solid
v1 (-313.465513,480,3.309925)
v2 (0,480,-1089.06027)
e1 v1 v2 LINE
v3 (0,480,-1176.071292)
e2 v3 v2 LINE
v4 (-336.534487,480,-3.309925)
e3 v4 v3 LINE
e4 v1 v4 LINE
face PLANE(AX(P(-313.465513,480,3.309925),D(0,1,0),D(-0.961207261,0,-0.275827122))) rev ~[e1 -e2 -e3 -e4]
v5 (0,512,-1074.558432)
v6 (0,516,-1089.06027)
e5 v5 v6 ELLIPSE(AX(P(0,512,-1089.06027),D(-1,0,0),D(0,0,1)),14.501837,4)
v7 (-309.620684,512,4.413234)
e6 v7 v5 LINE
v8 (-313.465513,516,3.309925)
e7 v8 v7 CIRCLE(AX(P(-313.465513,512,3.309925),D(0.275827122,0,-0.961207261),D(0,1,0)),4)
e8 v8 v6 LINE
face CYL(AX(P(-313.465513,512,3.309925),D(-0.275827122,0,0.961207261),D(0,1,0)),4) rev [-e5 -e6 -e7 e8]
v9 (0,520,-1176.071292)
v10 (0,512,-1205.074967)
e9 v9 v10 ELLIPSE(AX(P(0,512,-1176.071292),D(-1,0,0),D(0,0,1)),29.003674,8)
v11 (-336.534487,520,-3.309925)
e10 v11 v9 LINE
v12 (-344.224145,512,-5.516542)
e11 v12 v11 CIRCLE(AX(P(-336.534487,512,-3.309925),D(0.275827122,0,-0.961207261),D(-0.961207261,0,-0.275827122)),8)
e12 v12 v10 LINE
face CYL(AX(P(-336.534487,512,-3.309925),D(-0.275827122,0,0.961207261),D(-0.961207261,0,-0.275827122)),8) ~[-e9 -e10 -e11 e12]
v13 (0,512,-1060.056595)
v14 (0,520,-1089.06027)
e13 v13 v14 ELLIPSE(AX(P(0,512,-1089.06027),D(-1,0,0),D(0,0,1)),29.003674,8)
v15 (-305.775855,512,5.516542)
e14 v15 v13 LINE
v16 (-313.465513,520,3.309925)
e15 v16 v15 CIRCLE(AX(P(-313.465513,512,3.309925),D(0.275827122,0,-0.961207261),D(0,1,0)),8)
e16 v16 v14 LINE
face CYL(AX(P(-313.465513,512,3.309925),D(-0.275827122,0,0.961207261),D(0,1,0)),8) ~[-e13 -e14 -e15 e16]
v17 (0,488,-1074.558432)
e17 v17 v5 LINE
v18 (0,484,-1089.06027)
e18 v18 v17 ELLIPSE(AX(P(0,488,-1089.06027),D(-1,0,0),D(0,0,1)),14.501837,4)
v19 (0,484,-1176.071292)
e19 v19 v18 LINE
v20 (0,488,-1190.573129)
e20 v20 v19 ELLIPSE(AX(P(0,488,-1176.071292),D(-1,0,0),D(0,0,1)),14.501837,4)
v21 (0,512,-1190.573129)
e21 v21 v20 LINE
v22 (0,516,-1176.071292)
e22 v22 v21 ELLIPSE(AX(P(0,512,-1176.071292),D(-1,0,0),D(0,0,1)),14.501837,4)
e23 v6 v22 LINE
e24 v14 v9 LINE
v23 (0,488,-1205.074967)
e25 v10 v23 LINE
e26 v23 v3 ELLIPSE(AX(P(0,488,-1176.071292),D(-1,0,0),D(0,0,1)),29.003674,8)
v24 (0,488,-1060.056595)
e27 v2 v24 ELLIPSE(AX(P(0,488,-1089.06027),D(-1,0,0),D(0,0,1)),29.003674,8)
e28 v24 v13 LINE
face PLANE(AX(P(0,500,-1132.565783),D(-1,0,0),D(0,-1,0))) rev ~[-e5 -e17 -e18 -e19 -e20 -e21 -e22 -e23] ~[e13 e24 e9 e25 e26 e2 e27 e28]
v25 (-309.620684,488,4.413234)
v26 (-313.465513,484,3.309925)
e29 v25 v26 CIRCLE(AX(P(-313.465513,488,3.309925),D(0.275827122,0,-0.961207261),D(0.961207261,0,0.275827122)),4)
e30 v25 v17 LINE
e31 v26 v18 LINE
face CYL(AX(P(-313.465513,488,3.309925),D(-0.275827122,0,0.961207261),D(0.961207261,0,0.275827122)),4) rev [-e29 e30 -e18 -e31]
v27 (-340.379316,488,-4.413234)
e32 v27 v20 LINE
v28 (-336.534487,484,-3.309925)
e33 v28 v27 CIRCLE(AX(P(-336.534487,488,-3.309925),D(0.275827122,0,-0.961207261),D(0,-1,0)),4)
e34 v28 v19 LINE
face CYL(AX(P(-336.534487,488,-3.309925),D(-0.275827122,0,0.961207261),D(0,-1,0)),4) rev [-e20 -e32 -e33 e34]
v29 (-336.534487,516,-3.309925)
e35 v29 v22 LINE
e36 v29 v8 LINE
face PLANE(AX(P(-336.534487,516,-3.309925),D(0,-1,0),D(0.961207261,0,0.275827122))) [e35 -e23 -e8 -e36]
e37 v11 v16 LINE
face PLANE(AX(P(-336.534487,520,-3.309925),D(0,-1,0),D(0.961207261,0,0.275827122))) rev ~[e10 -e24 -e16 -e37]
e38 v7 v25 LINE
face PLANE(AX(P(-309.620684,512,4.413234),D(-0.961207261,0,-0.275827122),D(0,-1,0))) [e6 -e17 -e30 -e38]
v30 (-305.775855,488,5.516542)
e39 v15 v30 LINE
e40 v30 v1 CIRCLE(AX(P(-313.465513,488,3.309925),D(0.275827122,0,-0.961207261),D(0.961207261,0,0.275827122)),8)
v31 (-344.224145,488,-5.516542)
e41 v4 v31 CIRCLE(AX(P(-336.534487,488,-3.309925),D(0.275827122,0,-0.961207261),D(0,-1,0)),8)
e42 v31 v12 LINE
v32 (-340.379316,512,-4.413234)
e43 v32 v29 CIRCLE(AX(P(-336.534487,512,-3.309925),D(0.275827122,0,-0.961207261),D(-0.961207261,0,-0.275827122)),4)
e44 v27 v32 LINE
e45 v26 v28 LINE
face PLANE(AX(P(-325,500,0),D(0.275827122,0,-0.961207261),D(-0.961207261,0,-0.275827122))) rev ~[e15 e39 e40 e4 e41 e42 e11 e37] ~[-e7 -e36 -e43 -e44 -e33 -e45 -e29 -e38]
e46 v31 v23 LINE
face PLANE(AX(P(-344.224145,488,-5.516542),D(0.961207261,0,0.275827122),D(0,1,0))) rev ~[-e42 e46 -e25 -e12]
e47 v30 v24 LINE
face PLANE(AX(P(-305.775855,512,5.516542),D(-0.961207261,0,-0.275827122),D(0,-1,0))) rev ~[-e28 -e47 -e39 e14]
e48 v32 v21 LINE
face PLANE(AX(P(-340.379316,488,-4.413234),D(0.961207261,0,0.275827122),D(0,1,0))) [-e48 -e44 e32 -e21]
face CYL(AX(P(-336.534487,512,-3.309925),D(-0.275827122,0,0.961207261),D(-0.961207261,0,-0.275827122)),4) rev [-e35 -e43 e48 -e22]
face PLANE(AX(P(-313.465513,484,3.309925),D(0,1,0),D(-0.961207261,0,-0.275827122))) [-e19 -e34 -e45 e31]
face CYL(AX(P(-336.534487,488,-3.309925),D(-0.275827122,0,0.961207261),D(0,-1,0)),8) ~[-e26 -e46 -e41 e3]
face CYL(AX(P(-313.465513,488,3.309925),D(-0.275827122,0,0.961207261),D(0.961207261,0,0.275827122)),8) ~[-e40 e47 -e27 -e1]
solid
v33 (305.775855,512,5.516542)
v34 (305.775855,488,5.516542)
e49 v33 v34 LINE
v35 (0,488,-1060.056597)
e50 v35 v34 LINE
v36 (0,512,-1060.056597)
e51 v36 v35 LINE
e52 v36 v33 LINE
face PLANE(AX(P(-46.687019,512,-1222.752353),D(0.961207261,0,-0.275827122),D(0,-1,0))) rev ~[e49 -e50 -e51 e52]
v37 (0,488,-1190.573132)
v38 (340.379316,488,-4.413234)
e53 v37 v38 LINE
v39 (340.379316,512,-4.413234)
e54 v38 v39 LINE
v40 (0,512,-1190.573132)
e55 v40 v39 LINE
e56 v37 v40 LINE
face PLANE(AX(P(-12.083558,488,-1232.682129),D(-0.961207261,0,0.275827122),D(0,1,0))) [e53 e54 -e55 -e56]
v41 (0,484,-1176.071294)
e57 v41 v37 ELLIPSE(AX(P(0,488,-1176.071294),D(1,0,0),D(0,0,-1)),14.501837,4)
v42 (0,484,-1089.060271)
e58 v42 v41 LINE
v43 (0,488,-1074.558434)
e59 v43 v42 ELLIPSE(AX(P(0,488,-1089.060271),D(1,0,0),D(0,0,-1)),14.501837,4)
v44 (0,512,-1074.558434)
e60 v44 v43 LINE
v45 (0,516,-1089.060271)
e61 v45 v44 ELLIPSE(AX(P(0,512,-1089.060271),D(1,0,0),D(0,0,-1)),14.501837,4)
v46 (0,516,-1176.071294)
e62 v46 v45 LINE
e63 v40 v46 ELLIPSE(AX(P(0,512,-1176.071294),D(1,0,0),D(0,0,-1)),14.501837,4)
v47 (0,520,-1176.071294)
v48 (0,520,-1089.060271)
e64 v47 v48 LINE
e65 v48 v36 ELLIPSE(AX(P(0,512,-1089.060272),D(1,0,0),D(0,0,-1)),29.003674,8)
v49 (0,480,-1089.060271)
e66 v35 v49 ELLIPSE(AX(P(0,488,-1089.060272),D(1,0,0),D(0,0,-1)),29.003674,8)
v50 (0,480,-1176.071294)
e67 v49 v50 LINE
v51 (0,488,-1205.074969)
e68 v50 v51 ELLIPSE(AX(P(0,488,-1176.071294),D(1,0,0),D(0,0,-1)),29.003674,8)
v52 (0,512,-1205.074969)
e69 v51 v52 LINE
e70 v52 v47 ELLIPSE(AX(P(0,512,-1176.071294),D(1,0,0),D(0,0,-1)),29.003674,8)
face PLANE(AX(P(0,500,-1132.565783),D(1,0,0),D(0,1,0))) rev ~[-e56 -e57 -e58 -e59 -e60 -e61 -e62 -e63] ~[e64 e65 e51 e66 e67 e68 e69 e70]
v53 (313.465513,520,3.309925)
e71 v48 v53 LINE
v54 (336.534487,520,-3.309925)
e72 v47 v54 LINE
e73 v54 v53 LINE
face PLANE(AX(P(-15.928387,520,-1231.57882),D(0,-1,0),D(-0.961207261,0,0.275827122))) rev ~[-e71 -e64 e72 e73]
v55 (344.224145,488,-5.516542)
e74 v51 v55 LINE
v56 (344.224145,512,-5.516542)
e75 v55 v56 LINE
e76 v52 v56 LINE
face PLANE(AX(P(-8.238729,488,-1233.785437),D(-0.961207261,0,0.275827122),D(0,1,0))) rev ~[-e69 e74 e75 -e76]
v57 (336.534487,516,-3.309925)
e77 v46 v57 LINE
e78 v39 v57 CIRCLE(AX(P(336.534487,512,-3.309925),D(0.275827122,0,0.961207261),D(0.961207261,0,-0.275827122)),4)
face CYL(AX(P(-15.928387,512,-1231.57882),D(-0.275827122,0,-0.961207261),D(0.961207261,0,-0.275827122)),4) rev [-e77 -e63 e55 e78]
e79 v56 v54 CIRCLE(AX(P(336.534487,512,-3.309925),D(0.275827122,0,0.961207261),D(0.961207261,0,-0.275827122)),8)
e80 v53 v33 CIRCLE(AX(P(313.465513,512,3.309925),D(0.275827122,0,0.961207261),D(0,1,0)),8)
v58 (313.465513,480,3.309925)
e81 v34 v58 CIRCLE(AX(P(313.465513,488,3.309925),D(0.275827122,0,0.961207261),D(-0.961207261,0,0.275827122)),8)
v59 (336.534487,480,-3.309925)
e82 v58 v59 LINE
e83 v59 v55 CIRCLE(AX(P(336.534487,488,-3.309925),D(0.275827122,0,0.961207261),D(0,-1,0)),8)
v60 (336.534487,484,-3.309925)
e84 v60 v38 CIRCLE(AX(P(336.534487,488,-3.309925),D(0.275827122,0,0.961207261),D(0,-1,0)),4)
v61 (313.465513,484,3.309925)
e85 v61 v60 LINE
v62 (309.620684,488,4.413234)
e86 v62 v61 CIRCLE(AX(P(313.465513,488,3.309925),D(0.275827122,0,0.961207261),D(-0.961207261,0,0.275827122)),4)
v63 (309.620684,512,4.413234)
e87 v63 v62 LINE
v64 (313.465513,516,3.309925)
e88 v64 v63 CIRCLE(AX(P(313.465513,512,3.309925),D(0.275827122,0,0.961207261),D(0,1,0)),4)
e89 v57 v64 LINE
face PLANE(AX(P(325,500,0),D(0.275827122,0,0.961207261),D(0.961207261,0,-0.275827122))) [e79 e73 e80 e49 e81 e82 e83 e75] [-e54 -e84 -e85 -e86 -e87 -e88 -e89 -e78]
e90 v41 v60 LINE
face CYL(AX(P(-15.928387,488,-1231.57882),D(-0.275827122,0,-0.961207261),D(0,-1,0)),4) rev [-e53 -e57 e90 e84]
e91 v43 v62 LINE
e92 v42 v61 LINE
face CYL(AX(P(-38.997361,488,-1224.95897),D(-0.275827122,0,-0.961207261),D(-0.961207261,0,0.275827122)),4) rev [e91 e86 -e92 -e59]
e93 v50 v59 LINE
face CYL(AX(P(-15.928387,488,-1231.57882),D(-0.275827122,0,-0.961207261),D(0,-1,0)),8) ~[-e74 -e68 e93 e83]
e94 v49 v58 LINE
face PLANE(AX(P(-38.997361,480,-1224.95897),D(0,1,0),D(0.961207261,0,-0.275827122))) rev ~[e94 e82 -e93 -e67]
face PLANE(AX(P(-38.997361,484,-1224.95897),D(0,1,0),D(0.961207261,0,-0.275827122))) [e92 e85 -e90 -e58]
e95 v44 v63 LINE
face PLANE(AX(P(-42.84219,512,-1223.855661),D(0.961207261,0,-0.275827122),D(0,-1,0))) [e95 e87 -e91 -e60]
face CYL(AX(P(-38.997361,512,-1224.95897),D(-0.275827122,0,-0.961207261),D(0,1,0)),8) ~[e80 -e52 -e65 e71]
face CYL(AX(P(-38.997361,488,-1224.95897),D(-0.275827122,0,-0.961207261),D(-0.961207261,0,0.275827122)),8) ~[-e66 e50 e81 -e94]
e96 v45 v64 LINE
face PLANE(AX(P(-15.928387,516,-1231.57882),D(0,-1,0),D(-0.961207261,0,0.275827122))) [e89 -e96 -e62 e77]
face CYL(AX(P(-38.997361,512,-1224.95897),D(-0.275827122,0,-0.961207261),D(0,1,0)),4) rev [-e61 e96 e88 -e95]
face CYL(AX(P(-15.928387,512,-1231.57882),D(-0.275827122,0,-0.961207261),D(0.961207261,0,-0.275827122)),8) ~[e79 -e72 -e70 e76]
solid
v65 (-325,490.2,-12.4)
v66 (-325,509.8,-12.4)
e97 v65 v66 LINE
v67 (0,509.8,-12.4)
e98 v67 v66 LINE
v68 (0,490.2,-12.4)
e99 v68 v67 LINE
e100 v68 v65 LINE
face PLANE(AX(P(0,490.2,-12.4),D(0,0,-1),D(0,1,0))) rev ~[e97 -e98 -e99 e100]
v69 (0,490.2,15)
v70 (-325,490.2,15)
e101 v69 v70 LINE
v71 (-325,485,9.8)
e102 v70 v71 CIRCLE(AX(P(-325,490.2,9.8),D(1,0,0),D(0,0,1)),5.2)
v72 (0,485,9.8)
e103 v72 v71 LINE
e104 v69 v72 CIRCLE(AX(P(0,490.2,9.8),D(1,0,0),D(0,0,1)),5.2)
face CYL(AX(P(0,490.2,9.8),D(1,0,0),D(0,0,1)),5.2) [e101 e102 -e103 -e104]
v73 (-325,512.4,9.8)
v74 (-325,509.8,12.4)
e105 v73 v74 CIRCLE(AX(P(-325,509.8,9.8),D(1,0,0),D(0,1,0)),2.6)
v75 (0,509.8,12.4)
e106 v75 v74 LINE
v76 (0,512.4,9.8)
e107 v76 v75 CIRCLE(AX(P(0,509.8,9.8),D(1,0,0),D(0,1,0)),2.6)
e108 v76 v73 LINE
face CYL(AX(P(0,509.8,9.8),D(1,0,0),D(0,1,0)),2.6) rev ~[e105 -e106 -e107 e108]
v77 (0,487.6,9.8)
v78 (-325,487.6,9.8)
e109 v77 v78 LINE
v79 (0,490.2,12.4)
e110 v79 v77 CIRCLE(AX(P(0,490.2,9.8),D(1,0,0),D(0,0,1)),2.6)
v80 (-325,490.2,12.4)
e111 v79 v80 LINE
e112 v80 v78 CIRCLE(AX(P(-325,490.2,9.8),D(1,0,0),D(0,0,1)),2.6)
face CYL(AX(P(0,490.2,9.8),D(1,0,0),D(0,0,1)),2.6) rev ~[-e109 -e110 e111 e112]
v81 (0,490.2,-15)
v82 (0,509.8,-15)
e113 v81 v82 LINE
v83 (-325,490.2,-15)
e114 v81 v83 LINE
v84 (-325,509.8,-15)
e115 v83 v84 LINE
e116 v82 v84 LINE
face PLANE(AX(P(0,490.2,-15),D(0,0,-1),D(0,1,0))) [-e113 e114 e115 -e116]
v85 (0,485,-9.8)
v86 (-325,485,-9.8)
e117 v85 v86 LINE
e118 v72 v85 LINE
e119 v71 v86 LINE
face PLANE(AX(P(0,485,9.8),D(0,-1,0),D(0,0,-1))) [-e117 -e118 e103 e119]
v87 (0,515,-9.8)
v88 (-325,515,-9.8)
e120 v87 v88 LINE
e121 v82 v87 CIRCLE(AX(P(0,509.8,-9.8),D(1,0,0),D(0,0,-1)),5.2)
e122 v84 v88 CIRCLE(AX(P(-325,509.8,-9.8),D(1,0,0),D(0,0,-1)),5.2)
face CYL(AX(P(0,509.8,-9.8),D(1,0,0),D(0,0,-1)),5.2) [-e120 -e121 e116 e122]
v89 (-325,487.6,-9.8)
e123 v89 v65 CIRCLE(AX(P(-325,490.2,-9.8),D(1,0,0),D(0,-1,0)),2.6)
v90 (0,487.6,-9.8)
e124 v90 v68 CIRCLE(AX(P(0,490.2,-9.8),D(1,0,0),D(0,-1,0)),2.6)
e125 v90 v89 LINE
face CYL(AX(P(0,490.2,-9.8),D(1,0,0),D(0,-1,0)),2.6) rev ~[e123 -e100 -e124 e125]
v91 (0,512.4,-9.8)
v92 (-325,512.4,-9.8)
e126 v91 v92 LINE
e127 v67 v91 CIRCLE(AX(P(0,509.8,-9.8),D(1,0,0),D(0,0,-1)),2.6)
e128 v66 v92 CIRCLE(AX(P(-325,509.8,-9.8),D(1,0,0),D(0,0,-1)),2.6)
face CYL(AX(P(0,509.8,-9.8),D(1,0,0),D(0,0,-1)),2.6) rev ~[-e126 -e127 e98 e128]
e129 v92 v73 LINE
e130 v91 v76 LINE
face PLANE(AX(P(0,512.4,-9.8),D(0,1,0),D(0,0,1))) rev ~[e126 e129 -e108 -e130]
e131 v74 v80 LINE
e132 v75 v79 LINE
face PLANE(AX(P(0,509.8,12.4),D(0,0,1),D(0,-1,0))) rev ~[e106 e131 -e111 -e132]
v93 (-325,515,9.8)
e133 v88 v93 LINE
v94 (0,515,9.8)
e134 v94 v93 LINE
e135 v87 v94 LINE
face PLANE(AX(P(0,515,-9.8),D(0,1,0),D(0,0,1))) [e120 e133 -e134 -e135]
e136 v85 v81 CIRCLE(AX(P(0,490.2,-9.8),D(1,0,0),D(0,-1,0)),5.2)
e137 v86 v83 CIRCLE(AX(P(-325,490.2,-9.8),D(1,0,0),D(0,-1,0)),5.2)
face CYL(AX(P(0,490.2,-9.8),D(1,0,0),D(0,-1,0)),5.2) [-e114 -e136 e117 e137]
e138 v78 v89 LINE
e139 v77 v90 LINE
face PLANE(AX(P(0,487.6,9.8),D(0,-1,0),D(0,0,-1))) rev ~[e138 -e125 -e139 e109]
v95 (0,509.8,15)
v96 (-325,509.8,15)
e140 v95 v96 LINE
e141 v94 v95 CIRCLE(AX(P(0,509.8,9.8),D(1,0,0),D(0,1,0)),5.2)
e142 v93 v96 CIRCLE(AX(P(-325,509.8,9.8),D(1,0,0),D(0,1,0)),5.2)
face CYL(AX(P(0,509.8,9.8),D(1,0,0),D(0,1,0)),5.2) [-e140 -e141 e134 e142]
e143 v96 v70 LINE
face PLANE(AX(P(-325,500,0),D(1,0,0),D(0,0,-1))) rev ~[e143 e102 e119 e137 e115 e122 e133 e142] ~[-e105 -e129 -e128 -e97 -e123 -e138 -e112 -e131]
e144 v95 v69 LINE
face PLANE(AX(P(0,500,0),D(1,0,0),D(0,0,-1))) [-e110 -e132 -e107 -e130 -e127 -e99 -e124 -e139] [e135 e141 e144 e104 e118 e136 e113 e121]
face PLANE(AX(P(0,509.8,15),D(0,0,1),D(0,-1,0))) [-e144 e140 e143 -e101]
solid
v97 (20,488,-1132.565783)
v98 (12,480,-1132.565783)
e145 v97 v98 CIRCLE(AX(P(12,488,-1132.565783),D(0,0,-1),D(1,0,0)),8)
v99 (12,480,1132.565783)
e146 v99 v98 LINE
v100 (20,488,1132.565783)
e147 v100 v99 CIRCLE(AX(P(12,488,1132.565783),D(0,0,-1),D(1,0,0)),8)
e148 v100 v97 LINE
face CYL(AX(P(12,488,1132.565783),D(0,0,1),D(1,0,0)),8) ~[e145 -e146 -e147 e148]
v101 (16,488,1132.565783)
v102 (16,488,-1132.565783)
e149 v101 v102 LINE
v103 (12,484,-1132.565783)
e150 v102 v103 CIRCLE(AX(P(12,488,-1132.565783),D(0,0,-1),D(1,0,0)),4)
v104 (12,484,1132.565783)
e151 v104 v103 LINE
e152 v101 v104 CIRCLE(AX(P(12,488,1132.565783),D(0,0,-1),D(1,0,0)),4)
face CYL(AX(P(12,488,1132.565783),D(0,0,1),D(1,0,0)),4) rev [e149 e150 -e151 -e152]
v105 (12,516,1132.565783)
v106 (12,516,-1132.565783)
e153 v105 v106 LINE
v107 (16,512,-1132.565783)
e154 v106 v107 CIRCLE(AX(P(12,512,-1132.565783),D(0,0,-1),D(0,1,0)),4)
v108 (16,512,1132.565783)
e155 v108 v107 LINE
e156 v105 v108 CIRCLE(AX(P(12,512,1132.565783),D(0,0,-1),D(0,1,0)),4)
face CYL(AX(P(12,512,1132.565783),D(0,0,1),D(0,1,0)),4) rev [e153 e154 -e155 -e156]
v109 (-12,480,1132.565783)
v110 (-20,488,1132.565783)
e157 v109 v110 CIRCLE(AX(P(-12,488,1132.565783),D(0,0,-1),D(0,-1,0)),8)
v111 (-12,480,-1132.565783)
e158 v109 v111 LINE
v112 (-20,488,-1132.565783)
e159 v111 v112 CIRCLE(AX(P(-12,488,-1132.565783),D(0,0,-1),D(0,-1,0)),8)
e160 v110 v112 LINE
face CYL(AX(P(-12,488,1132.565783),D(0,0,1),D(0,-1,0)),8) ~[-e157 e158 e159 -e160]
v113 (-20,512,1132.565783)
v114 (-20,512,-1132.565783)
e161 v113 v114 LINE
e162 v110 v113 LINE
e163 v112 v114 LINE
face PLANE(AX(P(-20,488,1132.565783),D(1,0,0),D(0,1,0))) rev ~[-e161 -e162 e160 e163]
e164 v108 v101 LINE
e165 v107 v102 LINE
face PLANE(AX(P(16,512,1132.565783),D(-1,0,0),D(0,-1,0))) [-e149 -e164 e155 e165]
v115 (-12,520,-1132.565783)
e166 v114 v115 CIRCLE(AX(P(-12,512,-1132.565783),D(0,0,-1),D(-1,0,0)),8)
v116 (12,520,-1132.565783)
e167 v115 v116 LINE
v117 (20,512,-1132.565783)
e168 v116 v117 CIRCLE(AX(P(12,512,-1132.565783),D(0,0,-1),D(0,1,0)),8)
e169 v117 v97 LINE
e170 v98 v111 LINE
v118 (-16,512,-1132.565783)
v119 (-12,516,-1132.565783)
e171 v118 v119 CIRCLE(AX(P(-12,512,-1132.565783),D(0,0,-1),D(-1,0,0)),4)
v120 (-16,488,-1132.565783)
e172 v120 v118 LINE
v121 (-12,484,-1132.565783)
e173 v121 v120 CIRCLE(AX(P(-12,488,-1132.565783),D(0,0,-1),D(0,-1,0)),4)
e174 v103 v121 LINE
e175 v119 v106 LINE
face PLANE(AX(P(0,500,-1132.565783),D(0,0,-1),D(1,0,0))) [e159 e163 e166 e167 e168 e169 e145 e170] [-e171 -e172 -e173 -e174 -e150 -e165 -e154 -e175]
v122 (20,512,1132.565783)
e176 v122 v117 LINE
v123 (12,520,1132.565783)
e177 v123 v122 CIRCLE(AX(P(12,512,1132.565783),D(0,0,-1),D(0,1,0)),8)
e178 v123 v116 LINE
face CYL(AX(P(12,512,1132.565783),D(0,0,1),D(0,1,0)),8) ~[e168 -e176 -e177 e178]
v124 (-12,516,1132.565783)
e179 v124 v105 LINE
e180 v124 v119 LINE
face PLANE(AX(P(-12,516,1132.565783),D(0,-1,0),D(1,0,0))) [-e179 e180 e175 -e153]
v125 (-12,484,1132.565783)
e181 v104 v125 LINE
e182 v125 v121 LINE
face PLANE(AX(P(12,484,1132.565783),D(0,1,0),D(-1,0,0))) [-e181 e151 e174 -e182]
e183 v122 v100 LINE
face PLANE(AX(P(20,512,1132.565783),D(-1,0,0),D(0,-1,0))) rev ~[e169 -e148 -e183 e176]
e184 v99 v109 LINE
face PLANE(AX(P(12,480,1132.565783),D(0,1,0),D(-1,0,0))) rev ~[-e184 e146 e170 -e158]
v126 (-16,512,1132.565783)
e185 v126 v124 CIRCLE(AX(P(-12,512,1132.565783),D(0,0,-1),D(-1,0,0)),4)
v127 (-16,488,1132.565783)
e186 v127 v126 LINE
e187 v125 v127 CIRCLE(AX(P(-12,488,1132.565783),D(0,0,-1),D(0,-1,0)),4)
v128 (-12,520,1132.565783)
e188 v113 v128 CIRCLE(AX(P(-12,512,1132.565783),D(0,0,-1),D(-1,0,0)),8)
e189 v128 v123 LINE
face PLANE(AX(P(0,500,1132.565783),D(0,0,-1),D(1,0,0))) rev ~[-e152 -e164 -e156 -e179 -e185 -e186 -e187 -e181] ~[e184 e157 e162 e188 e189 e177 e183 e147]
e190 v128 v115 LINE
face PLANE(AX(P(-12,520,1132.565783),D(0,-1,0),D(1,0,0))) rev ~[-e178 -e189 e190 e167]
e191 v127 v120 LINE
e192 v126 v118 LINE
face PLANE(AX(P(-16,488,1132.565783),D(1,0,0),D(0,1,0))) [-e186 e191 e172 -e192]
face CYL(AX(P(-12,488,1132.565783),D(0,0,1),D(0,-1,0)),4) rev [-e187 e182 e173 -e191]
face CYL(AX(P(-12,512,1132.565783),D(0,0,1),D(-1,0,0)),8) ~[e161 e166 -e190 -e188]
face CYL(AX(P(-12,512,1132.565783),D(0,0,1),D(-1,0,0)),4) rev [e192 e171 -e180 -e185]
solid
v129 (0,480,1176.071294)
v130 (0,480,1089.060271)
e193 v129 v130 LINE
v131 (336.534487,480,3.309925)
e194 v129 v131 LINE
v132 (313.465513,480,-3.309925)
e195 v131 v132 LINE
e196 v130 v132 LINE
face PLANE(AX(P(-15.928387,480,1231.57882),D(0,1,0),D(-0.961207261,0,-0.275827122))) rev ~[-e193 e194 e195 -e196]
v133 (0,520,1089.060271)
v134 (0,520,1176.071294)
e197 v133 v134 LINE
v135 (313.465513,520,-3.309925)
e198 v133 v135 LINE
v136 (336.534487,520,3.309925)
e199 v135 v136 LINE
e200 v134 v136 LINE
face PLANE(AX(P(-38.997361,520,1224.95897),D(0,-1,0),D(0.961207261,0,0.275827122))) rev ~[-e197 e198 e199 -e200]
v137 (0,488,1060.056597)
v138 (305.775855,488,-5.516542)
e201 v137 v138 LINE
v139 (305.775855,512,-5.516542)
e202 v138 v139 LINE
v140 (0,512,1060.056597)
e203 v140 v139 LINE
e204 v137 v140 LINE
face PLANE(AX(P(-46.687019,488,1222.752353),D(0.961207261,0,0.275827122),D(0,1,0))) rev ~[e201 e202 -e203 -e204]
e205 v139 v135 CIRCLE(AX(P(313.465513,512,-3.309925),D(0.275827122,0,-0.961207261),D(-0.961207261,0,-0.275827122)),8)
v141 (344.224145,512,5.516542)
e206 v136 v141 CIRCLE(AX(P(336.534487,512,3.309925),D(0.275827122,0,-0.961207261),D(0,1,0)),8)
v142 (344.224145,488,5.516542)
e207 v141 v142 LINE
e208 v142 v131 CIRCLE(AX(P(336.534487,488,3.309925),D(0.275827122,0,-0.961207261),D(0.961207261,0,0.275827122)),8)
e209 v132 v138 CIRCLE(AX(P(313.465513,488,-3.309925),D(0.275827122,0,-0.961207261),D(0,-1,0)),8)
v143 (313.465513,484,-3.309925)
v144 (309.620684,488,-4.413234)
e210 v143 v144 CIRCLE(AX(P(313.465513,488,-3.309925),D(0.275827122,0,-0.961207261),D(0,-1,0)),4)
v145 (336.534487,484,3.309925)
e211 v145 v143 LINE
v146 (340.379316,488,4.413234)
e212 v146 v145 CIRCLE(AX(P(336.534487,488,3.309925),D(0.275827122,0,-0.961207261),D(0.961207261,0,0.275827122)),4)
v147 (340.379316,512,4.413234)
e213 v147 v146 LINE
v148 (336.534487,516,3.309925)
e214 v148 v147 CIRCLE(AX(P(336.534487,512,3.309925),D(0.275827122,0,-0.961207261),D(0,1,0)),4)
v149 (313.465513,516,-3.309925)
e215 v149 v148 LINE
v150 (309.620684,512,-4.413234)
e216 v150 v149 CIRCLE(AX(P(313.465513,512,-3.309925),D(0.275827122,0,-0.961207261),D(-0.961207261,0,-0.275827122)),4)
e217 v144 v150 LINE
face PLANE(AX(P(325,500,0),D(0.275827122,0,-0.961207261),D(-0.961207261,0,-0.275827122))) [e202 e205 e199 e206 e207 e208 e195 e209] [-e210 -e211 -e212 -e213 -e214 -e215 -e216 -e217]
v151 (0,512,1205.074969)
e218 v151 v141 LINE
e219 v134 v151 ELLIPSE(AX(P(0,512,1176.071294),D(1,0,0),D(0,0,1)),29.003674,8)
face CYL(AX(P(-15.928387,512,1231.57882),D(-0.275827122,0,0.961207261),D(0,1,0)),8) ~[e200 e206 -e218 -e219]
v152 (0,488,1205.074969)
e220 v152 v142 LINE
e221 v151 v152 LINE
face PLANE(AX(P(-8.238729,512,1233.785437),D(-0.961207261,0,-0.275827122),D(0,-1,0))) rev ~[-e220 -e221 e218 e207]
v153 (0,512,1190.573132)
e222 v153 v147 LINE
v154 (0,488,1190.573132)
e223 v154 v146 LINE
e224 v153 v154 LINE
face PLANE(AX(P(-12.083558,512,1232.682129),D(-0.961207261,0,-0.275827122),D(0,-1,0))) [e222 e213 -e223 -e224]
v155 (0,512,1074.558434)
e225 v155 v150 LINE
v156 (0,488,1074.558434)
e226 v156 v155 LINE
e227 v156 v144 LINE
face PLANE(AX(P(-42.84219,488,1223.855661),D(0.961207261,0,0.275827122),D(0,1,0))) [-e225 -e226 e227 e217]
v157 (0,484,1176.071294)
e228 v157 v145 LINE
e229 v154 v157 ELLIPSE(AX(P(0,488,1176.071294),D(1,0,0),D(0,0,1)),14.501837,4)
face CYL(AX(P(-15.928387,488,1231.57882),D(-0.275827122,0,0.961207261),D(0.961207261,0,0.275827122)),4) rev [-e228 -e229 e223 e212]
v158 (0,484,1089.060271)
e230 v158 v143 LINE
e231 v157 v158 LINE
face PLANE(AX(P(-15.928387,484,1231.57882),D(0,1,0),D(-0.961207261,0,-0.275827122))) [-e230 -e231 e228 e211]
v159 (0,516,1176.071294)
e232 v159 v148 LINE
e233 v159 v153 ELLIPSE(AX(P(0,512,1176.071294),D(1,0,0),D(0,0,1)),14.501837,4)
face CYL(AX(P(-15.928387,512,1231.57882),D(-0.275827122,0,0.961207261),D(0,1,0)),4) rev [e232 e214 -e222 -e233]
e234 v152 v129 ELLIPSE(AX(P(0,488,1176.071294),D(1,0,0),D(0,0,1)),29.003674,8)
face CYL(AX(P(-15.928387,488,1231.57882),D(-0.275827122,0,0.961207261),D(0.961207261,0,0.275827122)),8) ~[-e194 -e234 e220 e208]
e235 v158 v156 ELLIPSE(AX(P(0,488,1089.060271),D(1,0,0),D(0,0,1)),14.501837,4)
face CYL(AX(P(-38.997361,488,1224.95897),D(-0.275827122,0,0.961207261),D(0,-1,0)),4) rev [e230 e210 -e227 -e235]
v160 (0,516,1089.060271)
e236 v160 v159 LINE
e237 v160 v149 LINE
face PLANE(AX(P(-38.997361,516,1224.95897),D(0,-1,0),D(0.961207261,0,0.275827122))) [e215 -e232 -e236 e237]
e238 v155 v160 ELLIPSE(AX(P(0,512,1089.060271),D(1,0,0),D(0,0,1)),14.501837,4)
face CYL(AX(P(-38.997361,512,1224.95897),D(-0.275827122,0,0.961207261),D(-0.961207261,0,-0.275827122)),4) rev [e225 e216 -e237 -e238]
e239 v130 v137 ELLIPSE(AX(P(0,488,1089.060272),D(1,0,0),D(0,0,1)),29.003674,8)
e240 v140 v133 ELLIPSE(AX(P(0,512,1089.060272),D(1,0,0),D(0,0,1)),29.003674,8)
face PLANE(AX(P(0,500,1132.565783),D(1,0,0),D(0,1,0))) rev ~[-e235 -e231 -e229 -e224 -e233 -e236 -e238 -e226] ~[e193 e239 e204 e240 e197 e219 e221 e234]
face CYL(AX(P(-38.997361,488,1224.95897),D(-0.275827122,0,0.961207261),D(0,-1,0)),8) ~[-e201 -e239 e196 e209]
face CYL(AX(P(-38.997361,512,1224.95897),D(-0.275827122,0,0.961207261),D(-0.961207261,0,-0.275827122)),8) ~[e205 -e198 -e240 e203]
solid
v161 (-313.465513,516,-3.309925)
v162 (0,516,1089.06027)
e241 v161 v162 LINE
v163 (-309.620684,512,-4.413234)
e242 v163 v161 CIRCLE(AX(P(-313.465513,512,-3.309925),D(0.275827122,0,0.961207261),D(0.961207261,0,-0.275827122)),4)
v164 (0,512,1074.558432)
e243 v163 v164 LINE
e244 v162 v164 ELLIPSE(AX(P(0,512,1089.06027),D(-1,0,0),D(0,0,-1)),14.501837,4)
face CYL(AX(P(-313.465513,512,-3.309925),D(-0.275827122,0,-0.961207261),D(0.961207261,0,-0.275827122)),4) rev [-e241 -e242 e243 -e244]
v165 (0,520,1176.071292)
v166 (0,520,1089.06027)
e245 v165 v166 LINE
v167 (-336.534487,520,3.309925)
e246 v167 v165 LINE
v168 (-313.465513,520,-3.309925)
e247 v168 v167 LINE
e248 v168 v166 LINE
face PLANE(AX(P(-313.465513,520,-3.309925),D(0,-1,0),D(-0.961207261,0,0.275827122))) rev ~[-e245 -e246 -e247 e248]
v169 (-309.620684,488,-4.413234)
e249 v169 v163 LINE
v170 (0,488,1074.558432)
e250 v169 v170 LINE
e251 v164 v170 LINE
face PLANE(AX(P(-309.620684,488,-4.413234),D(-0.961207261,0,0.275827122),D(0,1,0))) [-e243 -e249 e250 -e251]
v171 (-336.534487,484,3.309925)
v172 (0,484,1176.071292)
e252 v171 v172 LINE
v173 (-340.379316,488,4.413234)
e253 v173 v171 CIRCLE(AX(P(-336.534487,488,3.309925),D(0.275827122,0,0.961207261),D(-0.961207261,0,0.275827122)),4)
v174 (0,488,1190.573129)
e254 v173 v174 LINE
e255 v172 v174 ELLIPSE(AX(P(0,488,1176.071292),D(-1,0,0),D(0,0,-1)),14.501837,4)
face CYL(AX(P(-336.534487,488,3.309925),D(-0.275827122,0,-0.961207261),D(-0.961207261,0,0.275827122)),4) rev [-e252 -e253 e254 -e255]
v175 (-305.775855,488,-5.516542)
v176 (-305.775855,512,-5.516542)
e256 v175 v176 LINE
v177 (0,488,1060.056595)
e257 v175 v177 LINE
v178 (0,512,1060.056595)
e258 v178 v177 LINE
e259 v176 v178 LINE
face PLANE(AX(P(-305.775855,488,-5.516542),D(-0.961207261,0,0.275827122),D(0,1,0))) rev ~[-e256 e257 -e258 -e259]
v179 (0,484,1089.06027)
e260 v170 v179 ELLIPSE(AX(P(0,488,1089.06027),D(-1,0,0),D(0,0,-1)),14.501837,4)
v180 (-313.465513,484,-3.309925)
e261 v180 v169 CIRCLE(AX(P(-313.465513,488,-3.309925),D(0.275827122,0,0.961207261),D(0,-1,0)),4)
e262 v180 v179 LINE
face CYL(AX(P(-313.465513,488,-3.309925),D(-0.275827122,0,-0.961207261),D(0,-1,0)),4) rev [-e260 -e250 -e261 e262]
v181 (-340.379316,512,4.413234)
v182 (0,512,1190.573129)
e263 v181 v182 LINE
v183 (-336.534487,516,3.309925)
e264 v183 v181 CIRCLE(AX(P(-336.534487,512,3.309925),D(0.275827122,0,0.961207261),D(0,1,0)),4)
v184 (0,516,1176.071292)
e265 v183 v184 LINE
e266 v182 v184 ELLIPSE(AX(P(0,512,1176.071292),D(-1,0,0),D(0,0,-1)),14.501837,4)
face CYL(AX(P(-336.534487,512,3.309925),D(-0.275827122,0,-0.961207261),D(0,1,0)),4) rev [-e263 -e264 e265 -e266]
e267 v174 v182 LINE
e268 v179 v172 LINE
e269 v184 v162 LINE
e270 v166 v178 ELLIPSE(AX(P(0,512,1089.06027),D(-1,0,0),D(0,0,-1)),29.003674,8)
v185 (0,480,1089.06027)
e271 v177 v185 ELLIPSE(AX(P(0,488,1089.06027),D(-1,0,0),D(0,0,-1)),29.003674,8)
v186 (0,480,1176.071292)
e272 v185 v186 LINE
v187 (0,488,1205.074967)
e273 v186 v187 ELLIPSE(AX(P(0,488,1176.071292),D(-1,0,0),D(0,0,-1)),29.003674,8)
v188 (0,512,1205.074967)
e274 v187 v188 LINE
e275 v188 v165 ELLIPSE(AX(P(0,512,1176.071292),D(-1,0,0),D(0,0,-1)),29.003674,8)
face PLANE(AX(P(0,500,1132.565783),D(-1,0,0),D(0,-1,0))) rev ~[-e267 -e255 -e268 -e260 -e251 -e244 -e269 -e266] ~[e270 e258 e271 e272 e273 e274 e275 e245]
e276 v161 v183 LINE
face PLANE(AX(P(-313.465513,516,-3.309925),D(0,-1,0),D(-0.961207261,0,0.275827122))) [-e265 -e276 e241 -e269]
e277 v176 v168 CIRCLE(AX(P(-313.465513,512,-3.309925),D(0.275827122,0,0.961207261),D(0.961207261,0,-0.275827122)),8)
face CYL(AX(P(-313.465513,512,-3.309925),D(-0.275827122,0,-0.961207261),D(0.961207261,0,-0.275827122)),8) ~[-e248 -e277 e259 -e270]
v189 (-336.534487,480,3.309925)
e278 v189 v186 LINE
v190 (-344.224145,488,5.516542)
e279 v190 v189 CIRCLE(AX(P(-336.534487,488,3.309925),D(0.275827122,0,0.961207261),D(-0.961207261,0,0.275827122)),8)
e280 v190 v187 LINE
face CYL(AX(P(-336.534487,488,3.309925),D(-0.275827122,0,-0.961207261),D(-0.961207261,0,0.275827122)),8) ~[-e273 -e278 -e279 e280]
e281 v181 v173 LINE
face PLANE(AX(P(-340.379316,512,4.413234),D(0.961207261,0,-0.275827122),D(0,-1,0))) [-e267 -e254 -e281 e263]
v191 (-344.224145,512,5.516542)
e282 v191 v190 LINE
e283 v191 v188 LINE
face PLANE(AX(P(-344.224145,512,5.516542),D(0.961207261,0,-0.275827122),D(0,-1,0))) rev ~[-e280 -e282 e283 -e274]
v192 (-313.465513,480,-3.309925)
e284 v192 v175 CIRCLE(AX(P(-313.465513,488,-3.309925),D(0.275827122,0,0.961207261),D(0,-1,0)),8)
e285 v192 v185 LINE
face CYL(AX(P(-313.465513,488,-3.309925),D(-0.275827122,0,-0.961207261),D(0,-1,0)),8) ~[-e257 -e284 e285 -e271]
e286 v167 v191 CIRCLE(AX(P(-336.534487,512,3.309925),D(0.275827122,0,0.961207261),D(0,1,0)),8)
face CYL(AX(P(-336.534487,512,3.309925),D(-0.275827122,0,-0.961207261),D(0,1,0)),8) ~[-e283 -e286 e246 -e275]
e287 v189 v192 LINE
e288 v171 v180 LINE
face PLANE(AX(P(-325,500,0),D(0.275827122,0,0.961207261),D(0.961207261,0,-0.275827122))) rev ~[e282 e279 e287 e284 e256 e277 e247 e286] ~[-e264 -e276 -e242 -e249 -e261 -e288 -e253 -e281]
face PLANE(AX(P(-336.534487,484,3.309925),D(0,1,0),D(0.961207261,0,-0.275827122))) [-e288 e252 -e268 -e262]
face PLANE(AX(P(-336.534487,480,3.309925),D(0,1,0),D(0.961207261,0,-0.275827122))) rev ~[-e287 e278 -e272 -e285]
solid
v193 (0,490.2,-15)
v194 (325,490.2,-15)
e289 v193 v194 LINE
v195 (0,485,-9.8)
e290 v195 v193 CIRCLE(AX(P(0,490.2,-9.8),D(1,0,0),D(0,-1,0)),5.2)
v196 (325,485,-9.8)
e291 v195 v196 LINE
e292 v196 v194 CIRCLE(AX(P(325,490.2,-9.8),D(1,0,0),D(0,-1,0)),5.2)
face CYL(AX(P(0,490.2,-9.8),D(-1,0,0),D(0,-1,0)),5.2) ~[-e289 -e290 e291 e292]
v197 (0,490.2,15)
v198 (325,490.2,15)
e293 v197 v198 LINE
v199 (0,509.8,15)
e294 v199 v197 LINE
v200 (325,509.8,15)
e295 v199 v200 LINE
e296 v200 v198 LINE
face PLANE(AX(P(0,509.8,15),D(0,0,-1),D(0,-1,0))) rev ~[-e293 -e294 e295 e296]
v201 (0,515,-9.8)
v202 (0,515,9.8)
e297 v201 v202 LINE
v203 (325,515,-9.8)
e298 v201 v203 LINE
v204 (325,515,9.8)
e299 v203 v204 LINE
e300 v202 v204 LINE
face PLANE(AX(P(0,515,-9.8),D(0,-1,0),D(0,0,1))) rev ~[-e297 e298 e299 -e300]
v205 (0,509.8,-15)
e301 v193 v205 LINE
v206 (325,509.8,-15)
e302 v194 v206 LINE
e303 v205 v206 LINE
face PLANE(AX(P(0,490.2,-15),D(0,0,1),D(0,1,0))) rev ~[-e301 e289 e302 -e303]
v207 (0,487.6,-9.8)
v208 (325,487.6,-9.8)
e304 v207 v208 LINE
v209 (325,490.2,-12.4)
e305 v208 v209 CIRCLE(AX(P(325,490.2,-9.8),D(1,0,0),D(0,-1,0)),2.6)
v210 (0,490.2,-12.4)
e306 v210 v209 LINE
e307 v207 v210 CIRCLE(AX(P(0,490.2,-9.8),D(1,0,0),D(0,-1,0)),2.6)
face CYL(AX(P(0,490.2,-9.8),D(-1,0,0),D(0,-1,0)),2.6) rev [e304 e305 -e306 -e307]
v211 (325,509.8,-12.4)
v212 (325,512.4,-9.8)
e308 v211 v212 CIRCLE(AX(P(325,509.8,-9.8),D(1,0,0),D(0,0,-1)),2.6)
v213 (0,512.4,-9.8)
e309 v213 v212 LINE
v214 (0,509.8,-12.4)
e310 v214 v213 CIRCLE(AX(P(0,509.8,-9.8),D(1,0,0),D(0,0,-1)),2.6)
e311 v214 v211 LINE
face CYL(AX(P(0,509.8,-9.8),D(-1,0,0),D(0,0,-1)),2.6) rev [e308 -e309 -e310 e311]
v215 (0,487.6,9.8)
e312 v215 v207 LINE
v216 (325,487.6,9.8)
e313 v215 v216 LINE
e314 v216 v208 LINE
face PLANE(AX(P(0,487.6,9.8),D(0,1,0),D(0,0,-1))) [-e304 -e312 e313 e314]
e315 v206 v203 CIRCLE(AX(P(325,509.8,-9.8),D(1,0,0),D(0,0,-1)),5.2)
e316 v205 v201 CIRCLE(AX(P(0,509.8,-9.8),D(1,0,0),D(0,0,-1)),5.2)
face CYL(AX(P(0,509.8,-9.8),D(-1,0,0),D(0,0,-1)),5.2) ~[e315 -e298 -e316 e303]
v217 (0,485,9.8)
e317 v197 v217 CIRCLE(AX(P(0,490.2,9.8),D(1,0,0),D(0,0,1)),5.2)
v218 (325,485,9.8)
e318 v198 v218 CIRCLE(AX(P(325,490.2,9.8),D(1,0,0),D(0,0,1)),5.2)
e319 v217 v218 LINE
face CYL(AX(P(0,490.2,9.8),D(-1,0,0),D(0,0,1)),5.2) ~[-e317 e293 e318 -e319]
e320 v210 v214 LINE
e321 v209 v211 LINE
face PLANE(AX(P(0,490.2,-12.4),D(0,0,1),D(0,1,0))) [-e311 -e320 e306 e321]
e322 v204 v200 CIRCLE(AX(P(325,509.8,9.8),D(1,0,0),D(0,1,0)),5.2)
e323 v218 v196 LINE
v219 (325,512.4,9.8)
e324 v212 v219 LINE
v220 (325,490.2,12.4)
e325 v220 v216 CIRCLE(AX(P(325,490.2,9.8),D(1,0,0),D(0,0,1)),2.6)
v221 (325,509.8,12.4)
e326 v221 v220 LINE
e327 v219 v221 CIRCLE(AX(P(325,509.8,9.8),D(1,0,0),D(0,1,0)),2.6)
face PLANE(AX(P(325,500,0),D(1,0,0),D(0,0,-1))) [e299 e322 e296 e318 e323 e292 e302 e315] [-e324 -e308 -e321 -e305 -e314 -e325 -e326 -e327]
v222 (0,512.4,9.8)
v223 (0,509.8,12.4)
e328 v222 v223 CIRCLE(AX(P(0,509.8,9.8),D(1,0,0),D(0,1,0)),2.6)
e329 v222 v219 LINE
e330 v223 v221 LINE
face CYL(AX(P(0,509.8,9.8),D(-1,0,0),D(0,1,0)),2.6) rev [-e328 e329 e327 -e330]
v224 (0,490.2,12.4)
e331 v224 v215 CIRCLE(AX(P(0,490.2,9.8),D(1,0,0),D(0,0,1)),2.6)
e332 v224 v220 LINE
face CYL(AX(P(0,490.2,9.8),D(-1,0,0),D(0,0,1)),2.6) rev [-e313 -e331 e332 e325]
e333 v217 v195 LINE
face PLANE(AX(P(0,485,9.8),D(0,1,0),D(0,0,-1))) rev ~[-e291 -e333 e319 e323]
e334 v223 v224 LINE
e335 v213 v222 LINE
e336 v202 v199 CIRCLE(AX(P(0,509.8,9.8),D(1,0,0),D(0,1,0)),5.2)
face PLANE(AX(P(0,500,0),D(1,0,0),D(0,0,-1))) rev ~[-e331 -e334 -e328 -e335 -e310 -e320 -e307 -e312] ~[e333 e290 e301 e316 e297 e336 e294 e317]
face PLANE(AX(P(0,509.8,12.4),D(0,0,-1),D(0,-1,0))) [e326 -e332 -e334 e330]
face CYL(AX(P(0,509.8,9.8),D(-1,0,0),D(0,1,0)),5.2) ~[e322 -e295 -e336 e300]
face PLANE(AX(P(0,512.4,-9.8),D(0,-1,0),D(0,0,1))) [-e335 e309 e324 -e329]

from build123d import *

# Parameters (mm, degrees)
SQUARE_TUBE_40_X_40_X_4_2_DEPTH        = 1277.839800624
SQUARE_TUBE_40_X_40_X_4_2_2_DEPTH      = 1178.274268897
SQUARE_TUBE_40_X_40_X_4_2_2_DEPTH_BACK = 99.565531726
SQUARE_TUBE_40_X_40_X_4_3_DEPTH        = 2265.131565932
SQUARE_TUBE_40_X_40_X_4_4_DEPTH        = 1277.839800624
SQUARE_TUBE_40_X_40_X_4_4_2_DEPTH      = 1178.274268897
SQUARE_TUBE_40_X_40_X_4_4_2_DEPTH_BACK = 99.565531726
SQUARE_TUBE_30_X_30_X_2_6_8_DEPTH      = 325
SQUARE_TUBE_30_X_30_X_2_6_8_2_DEPTH    = 325


with BuildPart() as part:
    # Sketch117 on segment 1 (carried to segment 1) → Square tube 40 X 40 X 4(2) (new body)
    with BuildSketch(Plane(origin=(-325, 500, 0), x_dir=(-0.961207261, 0, -0.275827122), z_dir=(0.275827122, 0, -0.961207261))):
        with BuildLine():
            Line((-12, -20), (12, -20))
            ThreePointArc((12, -20), (17.656854249, -17.656854249), (20, -12))
            Line((20, -12), (20, 12))
            ThreePointArc((20, 12), (17.656854249, 17.656854249), (12, 20))
            Line((12, 20), (-12, 20))
            ThreePointArc((-12, 20), (-17.656854249, 17.656854249), (-20, 12))
            Line((-20, 12), (-20, -12))
            ThreePointArc((-20, -12), (-17.656854249, -17.656854249), (-12, -20))
        make_face()
        with BuildLine():
            Line((-12, -16), (12, -16))
            ThreePointArc((12, -16), (14.828427125, -14.828427125), (16, -12))
            Line((16, -12), (16, 12))
            ThreePointArc((16, 12), (14.828427125, 14.828427125), (12, 16))
            Line((12, 16), (-12, 16))
            ThreePointArc((-12, 16), (-14.828427125, 14.828427125), (-16, 12))
            Line((-16, 12), (-16, -12))
            ThreePointArc((-16, -12), (-14.828427125, -14.828427125), (-12, -16))
        make_face(mode=Mode.SUBTRACT)
    extrude(amount=SQUARE_TUBE_40_X_40_X_4_2_DEPTH)

    # Square tube 40 X 40 X 4(2) mitre 1
    split(bisect_by=Plane(origin=(0, 500, -1132.565782966), x_dir=(0, -1, 0), z_dir=(-1, 0, 0)), keep=Keep.TOP)


with BuildPart() as body_2:
    # Sketch117 → Square tube 40 X 40 X 4_2 2 (new, two sides: drawn at the far end of the back side and taken through both)
    with BuildSketch(Plane(origin=(0, 500, -1132.565782966), x_dir=(0.9612072612142956, 2.0010330338498202e-15, -0.275827121561519), z_dir=(0.275827121561519, -1.4227899322223296e-14, 0.9612072612142956)).offset(-SQUARE_TUBE_40_X_40_X_4_2_2_DEPTH_BACK)):
        with BuildLine():
            Line((-12, -20), (12, -20))
            ThreePointArc((12, -20), (17.656854249, -17.656854249), (20, -12))
            Line((20, -12), (20, 12))
            ThreePointArc((20, 12), (17.656854249, 17.656854249), (12, 20))
            Line((12, 20), (-12, 20))
            ThreePointArc((-12, 20), (-17.656854249, 17.656854249), (-20, 12))
            Line((-20, 12), (-20, -12))
            ThreePointArc((-20, -12), (-17.656854249, -17.656854249), (-12, -20))
        make_face()
        with BuildLine():
            Line((-12, -16), (12, -16))
            ThreePointArc((12, -16), (14.828427125, -14.828427125), (16, -12))
            Line((16, -12), (16, 12))
            ThreePointArc((16, 12), (14.828427125, 14.828427125), (12, 16))
            Line((12, 16), (-12, 16))
            ThreePointArc((-12, 16), (-14.828427125, 14.828427125), (-16, 12))
            Line((-16, 12), (-16, -12))
            ThreePointArc((-16, -12), (-14.828427125, -14.828427125), (-12, -16))
        make_face(mode=Mode.SUBTRACT)
    extrude(amount=SQUARE_TUBE_40_X_40_X_4_2_2_DEPTH + SQUARE_TUBE_40_X_40_X_4_2_2_DEPTH_BACK)

    # Square tube 40 X 40 X 4_2 2 mitre 1
    split(bisect_by=Plane(origin=(0, 500, -1132.565782966), x_dir=(0, 1, 0), z_dir=(1, 0, 0)), keep=Keep.TOP)


with BuildPart() as body_3:
    # Sketch118 → Square tube 40 X 40 X 4(3) (new body)
    with BuildSketch(Plane(origin=(0, 500, 1132.565782966), x_dir=(1, 0, 0), z_dir=(0, 0, -1))):
        with BuildLine():
            Line((-12, -20), (12, -20))
            ThreePointArc((12, -20), (17.656854249, -17.656854249), (20, -12))
            Line((20, -12), (20, 12))
            ThreePointArc((20, 12), (17.656854249, 17.656854249), (12, 20))
            Line((12, 20), (-12, 20))
            ThreePointArc((-12, 20), (-17.656854249, 17.656854249), (-20, 12))
            Line((-20, 12), (-20, -12))
            ThreePointArc((-20, -12), (-17.656854249, -17.656854249), (-12, -20))
        make_face()
        with BuildLine():
            Line((-12, -16), (12, -16))
            ThreePointArc((12, -16), (14.828427125, -14.828427125), (16, -12))
            Line((16, -12), (16, 12))
            ThreePointArc((16, 12), (14.828427125, 14.828427125), (12, 16))
            Line((12, 16), (-12, 16))
            ThreePointArc((-12, 16), (-14.828427125, 14.828427125), (-16, 12))
            Line((-16, 12), (-16, -12))
            ThreePointArc((-16, -12), (-14.828427125, -14.828427125), (-12, -16))
        make_face(mode=Mode.SUBTRACT)
    extrude(amount=SQUARE_TUBE_40_X_40_X_4_3_DEPTH)


with BuildPart() as body_4:
    # Sketch119 on segment 1 (carried to segment 1) → Square tube 40 X 40 X 4(4) (new body)
    with BuildSketch(Plane(origin=(-325, 500, 0), x_dir=(0.961207261, 0, -0.275827122), z_dir=(0.275827122, 0, 0.961207261))):
        with BuildLine():
            Line((-12, -20), (12, -20))
            ThreePointArc((12, -20), (17.656854249, -17.656854249), (20, -12))
            Line((20, -12), (20, 12))
            ThreePointArc((20, 12), (17.656854249, 17.656854249), (12, 20))
            Line((12, 20), (-12, 20))
            ThreePointArc((-12, 20), (-17.656854249, 17.656854249), (-20, 12))
            Line((-20, 12), (-20, -12))
            ThreePointArc((-20, -12), (-17.656854249, -17.656854249), (-12, -20))
        make_face()
        with BuildLine():
            Line((-12, -16), (12, -16))
            ThreePointArc((12, -16), (14.828427125, -14.828427125), (16, -12))
            Line((16, -12), (16, 12))
            ThreePointArc((16, 12), (14.828427125, 14.828427125), (12, 16))
            Line((12, 16), (-12, 16))
            ThreePointArc((-12, 16), (-14.828427125, 14.828427125), (-16, 12))
            Line((-16, 12), (-16, -12))
            ThreePointArc((-16, -12), (-14.828427125, -14.828427125), (-12, -16))
        make_face(mode=Mode.SUBTRACT)
    extrude(amount=SQUARE_TUBE_40_X_40_X_4_4_DEPTH)

    # Square tube 40 X 40 X 4(4) mitre 1
    split(bisect_by=Plane(origin=(0, 500, 1132.565782966), x_dir=(0, -1, 0), z_dir=(-1, 0, 0)), keep=Keep.TOP)


with BuildPart() as body_5:
    # Sketch119 → Square tube 40 X 40 X 4_4 2 (new, two sides: drawn at the far end of the back side and taken through both)
    with BuildSketch(Plane(origin=(0, 500, 1132.565782966), x_dir=(-0.9612072612142956, 1.0116430648516472e-13, -0.2758271215615191), z_dir=(0.2758271215615191, -1.4227899322223312e-14, -0.9612072612142956)).offset(-SQUARE_TUBE_40_X_40_X_4_4_2_DEPTH_BACK)):
        with BuildLine():
            Line((-12, -20), (12, -20))
            ThreePointArc((12, -20), (17.656854249, -17.656854249), (20, -12))
            Line((20, -12), (20, 12))
            ThreePointArc((20, 12), (17.656854249, 17.656854249), (12, 20))
            Line((12, 20), (-12, 20))
            ThreePointArc((-12, 20), (-17.656854249, 17.656854249), (-20, 12))
            Line((-20, 12), (-20, -12))
            ThreePointArc((-20, -12), (-17.656854249, -17.656854249), (-12, -20))
        make_face()
        with BuildLine():
            Line((-12, -16), (12, -16))
            ThreePointArc((12, -16), (14.828427125, -14.828427125), (16, -12))
            Line((16, -12), (16, 12))
            ThreePointArc((16, 12), (14.828427125, 14.828427125), (12, 16))
            Line((12, 16), (-12, 16))
            ThreePointArc((-12, 16), (-14.828427125, 14.828427125), (-16, 12))
            Line((-16, 12), (-16, -12))
            ThreePointArc((-16, -12), (-14.828427125, -14.828427125), (-12, -16))
        make_face(mode=Mode.SUBTRACT)
    extrude(amount=SQUARE_TUBE_40_X_40_X_4_4_2_DEPTH + SQUARE_TUBE_40_X_40_X_4_4_2_DEPTH_BACK)

    # Square tube 40 X 40 X 4_4 2 mitre 1
    split(bisect_by=Plane(origin=(0, 500, 1132.565782966), x_dir=(0, 1, 0), z_dir=(1, 0, 0)), keep=Keep.TOP)


with BuildPart() as body_6:
    # Sketch123 → Square tube 30 X 30 X 2.6(8) (new body)
    with BuildSketch(Plane(origin=(0, 500, 0), x_dir=(0, 0, -1), z_dir=(1, 0, 0))):
        with BuildLine():
            Line((-9.8, -15), (9.8, -15))
            ThreePointArc((9.8, -15), (13.476955262, -13.476955262), (15, -9.8))
            Line((15, -9.8), (15, 9.8))
            ThreePointArc((15, 9.8), (13.476955262, 13.476955262), (9.8, 15))
            Line((9.8, 15), (-9.8, 15))
            ThreePointArc((-9.8, 15), (-13.476955262, 13.476955262), (-15, 9.8))
            Line((-15, 9.8), (-15, -9.8))
            ThreePointArc((-15, -9.8), (-13.476955262, -13.476955262), (-9.8, -15))
        make_face()
        with BuildLine():
            Line((-9.8, -12.4), (9.8, -12.4))
            ThreePointArc((9.8, -12.4), (11.638477631, -11.638477631), (12.4, -9.8))
            Line((12.4, -9.8), (12.4, 9.8))
            ThreePointArc((12.4, 9.8), (11.638477631, 11.638477631), (9.8, 12.4))
            Line((9.8, 12.4), (-9.8, 12.4))
            ThreePointArc((-9.8, 12.4), (-11.638477631, 11.638477631), (-12.4, 9.8))
            Line((-12.4, 9.8), (-12.4, -9.8))
            ThreePointArc((-12.4, -9.8), (-11.638477631, -11.638477631), (-9.8, -12.4))
        make_face(mode=Mode.SUBTRACT)
    extrude(amount=-SQUARE_TUBE_30_X_30_X_2_6_8_DEPTH)


with BuildPart() as body_7:
    # Sketch123 on segment 2 (carried to segment 2) → Square tube 30 X 30 X 2.6_8 2 (new body)
    with BuildSketch(Plane(origin=(0, 500, 0), x_dir=(0, 0, -1), z_dir=(1, 0, 0))):
        with BuildLine():
            Line((-9.8, -15), (9.8, -15))
            ThreePointArc((9.8, -15), (13.476955262, -13.476955262), (15, -9.8))
            Line((15, -9.8), (15, 9.8))
            ThreePointArc((15, 9.8), (13.476955262, 13.476955262), (9.8, 15))
            Line((9.8, 15), (-9.8, 15))
            ThreePointArc((-9.8, 15), (-13.476955262, 13.476955262), (-15, 9.8))
            Line((-15, 9.8), (-15, -9.8))
            ThreePointArc((-15, -9.8), (-13.476955262, -13.476955262), (-9.8, -15))
        make_face()
        with BuildLine():
            Line((-9.8, -12.4), (9.8, -12.4))
            ThreePointArc((9.8, -12.4), (11.638477631, -11.638477631), (12.4, -9.8))
            Line((12.4, -9.8), (12.4, 9.8))
            ThreePointArc((12.4, 9.8), (11.638477631, 11.638477631), (9.8, 12.4))
            Line((9.8, 12.4), (-9.8, 12.4))
            ThreePointArc((-9.8, 12.4), (-11.638477631, 11.638477631), (-12.4, 9.8))
            Line((-12.4, 9.8), (-12.4, -9.8))
            ThreePointArc((-12.4, -9.8), (-11.638477631, -11.638477631), (-9.8, -12.4))
        make_face(mode=Mode.SUBTRACT)
    extrude(amount=SQUARE_TUBE_30_X_30_X_2_6_8_2_DEPTH)


solid = Compound([part.part, body_2.part, body_3.part, body_4.part, body_5.part, body_6.part, body_7.part])
